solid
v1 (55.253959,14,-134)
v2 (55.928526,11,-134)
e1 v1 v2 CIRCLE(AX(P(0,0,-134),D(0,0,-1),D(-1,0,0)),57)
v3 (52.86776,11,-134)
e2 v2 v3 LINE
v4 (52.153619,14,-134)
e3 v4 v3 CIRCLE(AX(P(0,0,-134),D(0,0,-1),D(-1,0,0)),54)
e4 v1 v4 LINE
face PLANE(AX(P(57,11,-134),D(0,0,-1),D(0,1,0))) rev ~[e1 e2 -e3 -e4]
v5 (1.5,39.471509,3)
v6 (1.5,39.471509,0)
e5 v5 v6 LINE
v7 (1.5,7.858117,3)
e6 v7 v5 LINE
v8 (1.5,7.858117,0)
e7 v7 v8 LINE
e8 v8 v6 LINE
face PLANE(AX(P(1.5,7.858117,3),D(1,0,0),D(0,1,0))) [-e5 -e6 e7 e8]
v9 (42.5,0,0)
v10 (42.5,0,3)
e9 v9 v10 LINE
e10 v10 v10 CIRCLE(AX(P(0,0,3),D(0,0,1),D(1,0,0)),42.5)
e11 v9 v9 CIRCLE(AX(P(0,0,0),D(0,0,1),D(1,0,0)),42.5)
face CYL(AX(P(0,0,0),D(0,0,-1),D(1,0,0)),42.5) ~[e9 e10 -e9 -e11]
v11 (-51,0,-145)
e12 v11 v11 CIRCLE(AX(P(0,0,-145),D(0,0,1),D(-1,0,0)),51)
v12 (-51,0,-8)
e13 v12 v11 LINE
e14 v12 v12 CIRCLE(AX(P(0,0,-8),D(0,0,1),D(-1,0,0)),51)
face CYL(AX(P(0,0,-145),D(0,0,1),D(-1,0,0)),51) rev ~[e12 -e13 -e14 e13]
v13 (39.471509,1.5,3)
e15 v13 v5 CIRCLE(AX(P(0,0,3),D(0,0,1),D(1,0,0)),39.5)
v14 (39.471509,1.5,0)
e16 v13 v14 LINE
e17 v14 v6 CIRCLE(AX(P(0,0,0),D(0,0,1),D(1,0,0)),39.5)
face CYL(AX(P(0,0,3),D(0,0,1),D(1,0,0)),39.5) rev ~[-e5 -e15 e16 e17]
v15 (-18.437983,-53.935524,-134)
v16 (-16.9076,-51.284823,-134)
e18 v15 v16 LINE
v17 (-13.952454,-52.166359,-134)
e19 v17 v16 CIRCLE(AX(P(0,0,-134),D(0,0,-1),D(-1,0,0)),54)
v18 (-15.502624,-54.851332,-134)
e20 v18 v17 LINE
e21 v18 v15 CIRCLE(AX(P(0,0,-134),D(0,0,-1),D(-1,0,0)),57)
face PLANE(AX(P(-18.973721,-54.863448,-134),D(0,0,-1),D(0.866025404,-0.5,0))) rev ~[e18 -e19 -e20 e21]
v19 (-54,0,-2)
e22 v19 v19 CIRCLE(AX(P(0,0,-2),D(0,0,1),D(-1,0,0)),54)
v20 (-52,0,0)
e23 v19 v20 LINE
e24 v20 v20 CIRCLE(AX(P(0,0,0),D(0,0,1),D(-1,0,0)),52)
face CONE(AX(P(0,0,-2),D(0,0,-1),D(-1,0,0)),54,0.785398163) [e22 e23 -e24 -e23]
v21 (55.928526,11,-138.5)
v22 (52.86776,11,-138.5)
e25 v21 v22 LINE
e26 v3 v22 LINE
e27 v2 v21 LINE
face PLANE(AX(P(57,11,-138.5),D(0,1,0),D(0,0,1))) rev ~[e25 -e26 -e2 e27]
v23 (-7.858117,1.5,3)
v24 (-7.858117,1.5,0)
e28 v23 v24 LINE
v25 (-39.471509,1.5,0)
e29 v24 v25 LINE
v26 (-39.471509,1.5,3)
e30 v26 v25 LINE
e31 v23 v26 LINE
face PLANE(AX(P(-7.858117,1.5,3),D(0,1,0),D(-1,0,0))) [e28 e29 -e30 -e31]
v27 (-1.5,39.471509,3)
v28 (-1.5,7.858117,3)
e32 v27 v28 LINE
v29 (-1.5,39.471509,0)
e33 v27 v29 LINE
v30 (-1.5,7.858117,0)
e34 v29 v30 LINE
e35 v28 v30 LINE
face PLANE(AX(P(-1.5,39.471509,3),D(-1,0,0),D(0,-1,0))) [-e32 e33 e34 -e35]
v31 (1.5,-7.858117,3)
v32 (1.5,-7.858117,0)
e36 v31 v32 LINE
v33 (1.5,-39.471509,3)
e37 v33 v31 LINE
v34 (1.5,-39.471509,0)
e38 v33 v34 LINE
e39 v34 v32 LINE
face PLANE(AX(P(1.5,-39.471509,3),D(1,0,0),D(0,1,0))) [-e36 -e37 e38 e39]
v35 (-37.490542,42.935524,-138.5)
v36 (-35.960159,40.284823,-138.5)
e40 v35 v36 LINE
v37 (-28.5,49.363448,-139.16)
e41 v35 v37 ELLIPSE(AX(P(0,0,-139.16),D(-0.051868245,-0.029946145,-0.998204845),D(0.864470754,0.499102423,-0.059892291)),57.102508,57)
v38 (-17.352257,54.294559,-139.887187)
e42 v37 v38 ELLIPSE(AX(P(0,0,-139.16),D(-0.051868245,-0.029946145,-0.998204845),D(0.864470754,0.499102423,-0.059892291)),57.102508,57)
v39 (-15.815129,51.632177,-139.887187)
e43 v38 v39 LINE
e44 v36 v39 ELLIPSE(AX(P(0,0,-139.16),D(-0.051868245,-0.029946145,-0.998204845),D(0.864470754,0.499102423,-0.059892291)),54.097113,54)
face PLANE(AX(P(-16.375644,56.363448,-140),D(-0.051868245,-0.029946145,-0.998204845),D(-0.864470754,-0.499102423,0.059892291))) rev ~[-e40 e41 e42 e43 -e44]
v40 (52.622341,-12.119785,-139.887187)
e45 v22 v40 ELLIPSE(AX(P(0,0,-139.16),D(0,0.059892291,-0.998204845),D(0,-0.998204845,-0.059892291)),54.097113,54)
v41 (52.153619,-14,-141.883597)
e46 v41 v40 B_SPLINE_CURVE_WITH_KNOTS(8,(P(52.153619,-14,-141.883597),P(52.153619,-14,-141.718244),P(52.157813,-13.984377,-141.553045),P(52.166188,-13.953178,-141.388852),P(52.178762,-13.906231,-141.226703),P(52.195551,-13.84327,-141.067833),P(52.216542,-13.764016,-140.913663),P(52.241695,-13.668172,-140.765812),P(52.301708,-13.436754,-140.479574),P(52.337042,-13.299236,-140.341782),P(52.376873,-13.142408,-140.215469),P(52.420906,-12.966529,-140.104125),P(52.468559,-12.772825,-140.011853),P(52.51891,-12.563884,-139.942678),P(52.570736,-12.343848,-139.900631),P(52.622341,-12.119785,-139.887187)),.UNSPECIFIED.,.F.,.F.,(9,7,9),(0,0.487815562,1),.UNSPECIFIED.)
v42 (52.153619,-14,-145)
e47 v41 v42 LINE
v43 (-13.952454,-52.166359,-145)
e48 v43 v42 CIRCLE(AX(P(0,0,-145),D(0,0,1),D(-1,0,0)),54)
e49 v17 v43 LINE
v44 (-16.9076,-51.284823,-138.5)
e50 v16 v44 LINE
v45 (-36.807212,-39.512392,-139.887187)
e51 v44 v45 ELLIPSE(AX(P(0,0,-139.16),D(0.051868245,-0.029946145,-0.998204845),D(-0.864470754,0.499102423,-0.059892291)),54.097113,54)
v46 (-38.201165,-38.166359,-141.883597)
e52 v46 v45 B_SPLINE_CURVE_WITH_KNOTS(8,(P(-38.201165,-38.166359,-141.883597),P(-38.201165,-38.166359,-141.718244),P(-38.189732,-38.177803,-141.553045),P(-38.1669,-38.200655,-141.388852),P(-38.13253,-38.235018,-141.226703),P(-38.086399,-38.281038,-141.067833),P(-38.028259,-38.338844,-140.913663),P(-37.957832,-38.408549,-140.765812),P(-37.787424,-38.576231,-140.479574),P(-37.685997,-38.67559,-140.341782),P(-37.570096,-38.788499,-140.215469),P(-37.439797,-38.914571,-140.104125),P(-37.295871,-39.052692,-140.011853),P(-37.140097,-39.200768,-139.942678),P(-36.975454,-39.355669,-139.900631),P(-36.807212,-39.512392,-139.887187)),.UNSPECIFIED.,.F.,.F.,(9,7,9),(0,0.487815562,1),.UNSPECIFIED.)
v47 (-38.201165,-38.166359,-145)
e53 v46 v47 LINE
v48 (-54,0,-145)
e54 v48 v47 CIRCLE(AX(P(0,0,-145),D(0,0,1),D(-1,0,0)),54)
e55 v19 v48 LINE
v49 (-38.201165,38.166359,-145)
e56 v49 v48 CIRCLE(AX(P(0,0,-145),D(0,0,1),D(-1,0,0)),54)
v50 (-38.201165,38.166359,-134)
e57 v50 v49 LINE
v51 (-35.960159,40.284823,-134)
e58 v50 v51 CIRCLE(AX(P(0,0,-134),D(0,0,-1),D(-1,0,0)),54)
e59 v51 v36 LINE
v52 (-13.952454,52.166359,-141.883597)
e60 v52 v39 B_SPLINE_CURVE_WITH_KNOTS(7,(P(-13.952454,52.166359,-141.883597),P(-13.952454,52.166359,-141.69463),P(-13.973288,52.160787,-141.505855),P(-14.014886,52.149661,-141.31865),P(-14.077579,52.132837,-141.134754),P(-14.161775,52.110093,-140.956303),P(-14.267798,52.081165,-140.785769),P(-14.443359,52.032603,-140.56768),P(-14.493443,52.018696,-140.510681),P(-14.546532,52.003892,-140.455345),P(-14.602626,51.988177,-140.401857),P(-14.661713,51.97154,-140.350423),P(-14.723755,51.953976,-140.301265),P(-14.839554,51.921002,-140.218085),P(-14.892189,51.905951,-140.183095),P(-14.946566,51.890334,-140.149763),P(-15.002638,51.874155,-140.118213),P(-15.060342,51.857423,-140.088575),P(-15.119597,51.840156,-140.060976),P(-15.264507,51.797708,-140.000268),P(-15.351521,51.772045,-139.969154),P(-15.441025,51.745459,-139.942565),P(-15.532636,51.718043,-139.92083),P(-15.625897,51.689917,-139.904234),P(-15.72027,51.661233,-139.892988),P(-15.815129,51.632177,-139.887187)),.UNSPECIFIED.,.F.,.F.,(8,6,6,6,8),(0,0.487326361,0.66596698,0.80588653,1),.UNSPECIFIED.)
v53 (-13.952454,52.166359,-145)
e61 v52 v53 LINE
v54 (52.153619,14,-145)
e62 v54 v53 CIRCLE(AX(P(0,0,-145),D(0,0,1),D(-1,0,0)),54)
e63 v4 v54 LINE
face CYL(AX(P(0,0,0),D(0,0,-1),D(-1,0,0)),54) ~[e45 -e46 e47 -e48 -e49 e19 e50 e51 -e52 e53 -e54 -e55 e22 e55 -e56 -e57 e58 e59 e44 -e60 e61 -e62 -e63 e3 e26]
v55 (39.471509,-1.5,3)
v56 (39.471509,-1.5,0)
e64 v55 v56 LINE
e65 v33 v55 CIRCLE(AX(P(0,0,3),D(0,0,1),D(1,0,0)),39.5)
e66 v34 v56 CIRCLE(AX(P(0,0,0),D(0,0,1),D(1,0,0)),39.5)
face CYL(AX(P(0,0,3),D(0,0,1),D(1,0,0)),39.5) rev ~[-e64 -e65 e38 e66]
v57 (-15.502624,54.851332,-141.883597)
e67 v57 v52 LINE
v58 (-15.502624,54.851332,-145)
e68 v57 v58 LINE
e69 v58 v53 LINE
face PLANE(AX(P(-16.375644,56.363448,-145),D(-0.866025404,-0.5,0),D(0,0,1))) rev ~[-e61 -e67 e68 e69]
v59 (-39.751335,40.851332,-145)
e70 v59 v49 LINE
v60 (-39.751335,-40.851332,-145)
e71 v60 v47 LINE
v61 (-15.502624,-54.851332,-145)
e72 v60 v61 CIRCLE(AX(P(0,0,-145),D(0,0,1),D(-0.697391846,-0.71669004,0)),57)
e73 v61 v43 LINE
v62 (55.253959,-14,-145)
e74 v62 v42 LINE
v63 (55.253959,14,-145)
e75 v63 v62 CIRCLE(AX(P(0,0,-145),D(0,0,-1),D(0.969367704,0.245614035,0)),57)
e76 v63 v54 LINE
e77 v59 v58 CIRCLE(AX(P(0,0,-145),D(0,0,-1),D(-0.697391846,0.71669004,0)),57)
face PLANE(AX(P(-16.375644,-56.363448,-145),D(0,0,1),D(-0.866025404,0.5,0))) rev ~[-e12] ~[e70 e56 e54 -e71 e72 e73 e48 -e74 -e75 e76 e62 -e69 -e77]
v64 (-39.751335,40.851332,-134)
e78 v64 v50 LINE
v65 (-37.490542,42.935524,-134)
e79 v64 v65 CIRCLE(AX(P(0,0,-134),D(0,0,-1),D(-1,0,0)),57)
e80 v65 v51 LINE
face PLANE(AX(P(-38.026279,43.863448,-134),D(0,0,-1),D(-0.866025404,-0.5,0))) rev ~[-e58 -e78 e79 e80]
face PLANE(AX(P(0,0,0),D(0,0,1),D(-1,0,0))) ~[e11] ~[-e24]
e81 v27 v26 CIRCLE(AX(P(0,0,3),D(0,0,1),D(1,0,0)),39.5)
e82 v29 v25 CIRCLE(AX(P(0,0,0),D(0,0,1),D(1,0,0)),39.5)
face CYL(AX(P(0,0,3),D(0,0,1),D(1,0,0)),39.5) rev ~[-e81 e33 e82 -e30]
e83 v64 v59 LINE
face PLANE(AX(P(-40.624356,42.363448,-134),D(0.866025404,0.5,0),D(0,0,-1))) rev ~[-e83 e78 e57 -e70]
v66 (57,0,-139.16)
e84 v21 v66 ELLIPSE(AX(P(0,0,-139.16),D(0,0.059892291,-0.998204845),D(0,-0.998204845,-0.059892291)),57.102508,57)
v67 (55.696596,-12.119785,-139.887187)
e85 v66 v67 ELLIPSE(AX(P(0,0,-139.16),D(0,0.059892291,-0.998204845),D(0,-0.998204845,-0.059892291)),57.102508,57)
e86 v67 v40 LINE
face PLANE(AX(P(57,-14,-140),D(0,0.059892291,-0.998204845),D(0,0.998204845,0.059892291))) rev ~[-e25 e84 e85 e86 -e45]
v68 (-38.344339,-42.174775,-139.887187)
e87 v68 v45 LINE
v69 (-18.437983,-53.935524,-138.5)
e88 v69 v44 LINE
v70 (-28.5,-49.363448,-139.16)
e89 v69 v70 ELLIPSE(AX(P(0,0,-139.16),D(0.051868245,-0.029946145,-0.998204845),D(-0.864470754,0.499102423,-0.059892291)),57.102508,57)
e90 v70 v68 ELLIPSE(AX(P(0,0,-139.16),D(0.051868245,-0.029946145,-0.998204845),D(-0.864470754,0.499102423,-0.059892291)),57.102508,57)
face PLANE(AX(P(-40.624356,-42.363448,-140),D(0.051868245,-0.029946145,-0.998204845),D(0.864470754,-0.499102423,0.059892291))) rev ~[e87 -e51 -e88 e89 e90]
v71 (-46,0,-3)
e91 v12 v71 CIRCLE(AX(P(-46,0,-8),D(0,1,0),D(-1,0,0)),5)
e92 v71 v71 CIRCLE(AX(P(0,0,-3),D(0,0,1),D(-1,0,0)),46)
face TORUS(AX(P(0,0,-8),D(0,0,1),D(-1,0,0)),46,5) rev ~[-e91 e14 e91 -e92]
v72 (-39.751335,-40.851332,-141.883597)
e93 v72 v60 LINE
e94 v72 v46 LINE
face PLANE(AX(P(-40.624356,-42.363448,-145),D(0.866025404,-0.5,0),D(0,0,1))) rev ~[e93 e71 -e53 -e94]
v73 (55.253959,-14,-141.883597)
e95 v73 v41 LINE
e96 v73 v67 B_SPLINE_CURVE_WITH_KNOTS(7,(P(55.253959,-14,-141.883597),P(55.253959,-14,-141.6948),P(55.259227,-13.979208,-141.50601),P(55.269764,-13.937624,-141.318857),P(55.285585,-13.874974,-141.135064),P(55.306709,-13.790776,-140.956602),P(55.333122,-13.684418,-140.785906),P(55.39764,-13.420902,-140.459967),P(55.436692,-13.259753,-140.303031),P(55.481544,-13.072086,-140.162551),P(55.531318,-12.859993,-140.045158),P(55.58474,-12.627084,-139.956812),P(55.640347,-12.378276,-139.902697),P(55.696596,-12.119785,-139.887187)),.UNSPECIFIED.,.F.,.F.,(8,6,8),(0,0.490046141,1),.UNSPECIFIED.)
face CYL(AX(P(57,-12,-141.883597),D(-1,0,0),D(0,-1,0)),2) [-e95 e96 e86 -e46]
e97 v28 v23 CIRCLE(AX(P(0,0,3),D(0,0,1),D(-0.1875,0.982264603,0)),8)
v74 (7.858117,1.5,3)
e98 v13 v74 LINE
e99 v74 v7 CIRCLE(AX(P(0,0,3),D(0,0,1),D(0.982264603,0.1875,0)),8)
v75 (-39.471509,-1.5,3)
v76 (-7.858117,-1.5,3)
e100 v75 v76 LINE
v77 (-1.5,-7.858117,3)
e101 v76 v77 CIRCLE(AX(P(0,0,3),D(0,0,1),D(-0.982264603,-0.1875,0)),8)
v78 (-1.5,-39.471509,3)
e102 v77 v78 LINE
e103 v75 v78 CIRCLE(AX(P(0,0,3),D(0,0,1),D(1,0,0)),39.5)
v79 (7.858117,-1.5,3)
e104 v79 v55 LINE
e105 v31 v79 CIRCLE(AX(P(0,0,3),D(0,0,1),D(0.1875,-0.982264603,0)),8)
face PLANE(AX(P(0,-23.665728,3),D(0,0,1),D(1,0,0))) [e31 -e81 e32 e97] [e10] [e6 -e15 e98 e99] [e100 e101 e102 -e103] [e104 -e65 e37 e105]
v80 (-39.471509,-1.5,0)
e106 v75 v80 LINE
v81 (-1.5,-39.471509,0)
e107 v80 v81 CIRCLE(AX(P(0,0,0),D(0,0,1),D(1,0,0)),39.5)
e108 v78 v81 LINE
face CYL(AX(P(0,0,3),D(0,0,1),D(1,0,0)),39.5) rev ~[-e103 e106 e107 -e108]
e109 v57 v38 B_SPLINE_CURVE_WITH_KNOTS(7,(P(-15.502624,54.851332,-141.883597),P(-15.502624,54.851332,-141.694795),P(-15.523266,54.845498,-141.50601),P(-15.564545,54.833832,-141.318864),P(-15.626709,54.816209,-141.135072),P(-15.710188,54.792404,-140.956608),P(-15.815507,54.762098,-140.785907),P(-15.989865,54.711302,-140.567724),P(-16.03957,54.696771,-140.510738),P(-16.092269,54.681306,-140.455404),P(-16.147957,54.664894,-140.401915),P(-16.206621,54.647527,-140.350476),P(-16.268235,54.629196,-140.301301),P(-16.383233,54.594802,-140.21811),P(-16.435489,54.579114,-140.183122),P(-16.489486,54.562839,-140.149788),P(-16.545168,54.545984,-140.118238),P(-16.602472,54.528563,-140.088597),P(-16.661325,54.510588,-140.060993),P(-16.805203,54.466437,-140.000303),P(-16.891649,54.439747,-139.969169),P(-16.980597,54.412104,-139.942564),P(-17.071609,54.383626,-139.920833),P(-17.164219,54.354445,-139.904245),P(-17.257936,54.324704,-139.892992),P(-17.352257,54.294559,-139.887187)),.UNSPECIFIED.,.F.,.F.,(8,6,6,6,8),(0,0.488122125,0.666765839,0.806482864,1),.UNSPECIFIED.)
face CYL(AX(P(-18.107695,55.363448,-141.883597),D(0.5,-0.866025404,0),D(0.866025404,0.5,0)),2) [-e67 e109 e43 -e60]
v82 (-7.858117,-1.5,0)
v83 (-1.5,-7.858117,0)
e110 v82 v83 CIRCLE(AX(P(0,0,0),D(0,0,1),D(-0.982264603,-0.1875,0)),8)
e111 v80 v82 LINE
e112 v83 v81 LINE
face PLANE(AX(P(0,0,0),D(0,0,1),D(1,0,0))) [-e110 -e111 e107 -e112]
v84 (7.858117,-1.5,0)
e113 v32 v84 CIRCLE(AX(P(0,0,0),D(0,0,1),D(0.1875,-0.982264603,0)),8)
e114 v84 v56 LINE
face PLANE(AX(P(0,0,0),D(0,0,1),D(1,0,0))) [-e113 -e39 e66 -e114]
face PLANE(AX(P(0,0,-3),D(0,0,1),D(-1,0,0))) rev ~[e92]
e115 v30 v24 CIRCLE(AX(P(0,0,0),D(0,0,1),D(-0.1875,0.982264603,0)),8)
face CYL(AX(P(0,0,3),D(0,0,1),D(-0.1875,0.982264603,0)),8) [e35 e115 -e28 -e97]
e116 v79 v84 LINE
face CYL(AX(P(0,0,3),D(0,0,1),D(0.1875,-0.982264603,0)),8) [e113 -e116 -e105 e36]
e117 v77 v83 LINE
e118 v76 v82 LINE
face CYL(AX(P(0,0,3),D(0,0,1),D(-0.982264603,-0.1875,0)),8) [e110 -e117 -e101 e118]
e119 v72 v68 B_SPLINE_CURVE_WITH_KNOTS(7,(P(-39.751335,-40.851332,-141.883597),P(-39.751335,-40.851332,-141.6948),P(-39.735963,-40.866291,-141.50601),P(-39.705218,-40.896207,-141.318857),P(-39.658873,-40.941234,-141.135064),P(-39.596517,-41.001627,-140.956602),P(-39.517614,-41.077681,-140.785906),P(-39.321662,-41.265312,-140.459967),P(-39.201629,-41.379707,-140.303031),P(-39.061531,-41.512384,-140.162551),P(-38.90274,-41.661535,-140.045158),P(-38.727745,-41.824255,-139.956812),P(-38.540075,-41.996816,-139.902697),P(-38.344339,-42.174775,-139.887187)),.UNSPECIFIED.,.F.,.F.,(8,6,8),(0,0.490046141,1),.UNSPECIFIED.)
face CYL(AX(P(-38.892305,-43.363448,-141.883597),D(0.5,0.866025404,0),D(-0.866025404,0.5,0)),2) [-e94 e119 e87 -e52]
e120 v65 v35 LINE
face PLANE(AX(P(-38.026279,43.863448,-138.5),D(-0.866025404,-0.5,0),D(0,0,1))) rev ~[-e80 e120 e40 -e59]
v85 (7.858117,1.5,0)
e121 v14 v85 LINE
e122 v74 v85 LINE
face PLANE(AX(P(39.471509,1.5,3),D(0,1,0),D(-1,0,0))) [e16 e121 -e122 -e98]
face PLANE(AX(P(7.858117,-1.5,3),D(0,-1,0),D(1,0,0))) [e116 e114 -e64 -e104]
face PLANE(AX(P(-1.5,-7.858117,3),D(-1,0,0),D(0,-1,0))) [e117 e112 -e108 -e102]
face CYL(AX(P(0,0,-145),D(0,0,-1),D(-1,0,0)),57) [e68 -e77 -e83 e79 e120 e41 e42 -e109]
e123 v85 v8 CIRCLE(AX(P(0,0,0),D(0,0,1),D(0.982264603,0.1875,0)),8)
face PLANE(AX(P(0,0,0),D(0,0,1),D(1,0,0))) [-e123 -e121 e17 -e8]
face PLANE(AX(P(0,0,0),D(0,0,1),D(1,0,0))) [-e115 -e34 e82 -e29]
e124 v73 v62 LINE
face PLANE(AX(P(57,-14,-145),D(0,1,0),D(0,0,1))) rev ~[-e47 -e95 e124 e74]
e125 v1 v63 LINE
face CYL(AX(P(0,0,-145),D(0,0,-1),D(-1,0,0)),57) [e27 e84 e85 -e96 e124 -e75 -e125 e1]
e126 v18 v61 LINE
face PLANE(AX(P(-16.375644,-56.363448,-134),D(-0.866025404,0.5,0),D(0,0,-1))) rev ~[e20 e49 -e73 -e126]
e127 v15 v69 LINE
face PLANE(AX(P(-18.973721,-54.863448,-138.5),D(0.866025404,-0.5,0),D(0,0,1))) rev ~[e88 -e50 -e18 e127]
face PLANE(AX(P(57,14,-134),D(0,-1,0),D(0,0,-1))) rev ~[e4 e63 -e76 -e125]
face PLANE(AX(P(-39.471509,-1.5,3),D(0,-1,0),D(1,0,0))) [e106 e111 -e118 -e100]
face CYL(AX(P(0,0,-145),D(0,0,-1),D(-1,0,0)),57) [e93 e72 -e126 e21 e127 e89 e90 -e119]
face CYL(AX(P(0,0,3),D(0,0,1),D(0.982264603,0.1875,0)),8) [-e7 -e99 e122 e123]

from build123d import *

# Parameters (mm, degrees)
EXTRUDE_1_DEPTH                  = 10
FILLET_1_R                       = 2
PATTERN_CIRCULAR_2_COUNT         = 3
FILLET_1_OF_PATTERN_CIRCULAR_2_R = 2
CUT_EXTRUDE_START                = -15
SKETCH_3_R                       = 51
CUT_EXTRUDE_1_DEPTH              = 15
SKETCH_4_R                       = 62.618720145
SKETCH_4_R_2                     = 57
CUT_EXTRUDE_2_DEPTH              = 15
CHAMFER_1_SIZE                   = 2
FILLET_2_R                       = 5
SKETCH_5_R                       = 42.5
EXTRUDE_2_DEPTH                  = 3
SKETCH_7_R                       = 39.5
CUT_EXTRUDE_3_DEPTH              = 3
EXTRUDE_START                    = 3
SKETCH_8_W                       = 3
SKETCH_8_H                       = 3
EXTRUDE_4_DEPTH                  = 3


with BuildPart() as part:
    # Эскиз1 → Повернуть1 (revolve)
    with BuildSketch(Plane(origin=(0, 0, 0), x_dir=(1, 0, 0), z_dir=(0, 1, 0))):
        Polygon((0, 0), (-54, 0), (-54, 145), (-51, 145), (-51, 3), (0, 3), align=None)
    revolve(axis=Axis((0, 0, -3), (0, 0, 1)))

    # Эскиз2 → Бобышка-Вытянуть1 (add)
    with BuildSketch(Plane(origin=(57, 0, 0), x_dir=(0, 0, -1), z_dir=(1, 0, 0))):
        Polygon((145, 14), (145, -14), (140, -14), (138.5, 11), (134, 11), (134, 14), align=None)
    extrude_1 = extrude(amount=-EXTRUDE_1_DEPTH)

    # Скругление1
    fillet_1_edges = [part.edges().sort_by_distance(p)[0] for p in [
        (54.576809621, -14, -140),
    ]]
    fillet(fillet_1_edges, radius=FILLET_1_R)

    # Круговой массив2: Бобышка-Вытянуть1 ×3 about axis
    pattern_circular_2_axis = Axis((0, 0, 0), (0, 0, 1))
    for i in range(1, PATTERN_CIRCULAR_2_COUNT):
        add(extrude_1.rotate(pattern_circular_2_axis, i * 360 / PATTERN_CIRCULAR_2_COUNT))

    # Скругление1 of Круговой массив2
    fillet_1_of_pattern_circular_2_edges = [part.edges().sort_by_distance(p)[0] for p in [
        (-15.164049157, 54.264903589, -140),
        (-39.412760463, -40.264903589, -140),
    ]]
    fillet(fillet_1_of_pattern_circular_2_edges, radius=FILLET_1_OF_PATTERN_CIRCULAR_2_R)

    # Эскиз3 → Вырез-Вытянуть1 (cut)
    with BuildSketch(Plane(origin=(0, 0, -145), x_dir=(-1, 0, 0), z_dir=(0, 0, -1)).offset(CUT_EXTRUDE_START)):
        Circle(SKETCH_3_R)
    extrude(amount=CUT_EXTRUDE_1_DEPTH, mode=Mode.SUBTRACT)

    # Эскиз4 → Вырез-Вытянуть2 (cut)
    with BuildSketch(Plane(origin=(0, 0, -145), x_dir=(-1, 0, 0), z_dir=(0, 0, -1))):
        Circle(SKETCH_4_R)
        Circle(SKETCH_4_R_2, mode=Mode.SUBTRACT)
    extrude(amount=-CUT_EXTRUDE_2_DEPTH, mode=Mode.SUBTRACT)

    # Фаска1
    chamfer_1_edges = [part.edges().sort_by_distance(p)[0] for p in [
        (54, 0, 0),
    ]]
    chamfer(chamfer_1_edges, length=CHAMFER_1_SIZE)

    # Скругление2
    fillet_2_edges = [part.edges().sort_by_distance(p)[0] for p in [
        (51, 0, -3),
    ]]
    fillet(fillet_2_edges, radius=FILLET_2_R)

    # Эскиз5 → Бобышка-Вытянуть2 (add)
    with BuildSketch(Plane.XY):
        Circle(SKETCH_5_R)
    extrude(amount=EXTRUDE_2_DEPTH)

    # Эскиз7 → Вырез-Вытянуть3 (cut)
    with BuildSketch(Plane.XY.offset(3)):
        Circle(SKETCH_7_R)
    extrude(amount=-CUT_EXTRUDE_3_DEPTH, mode=Mode.SUBTRACT)

    # Эскиз8 → Бобышка-Вытянуть4 (add)
    with BuildSketch(Plane.XY.offset(EXTRUDE_START)):
        with BuildLine():
            Line((-1.5, -7.858116823), (-1.5, -39.471508712))
            ThreePointArc((-1.5, -39.471508712), (0, -39.5), (1.5, -39.471508712))
            Line((1.5, -39.471508712), (1.5, -7.858116823))
            ThreePointArc((1.5, -7.858116823), (0, -8), (-1.5, -7.858116823))
        make_face()
        with BuildLine():
            ThreePointArc((1.5, 39.471508712), (0, 39.5), (-1.5, 39.471508712))
            Line((-1.5, 39.471508712), (-1.5, 7.858116823))
            ThreePointArc((-1.5, 7.858116823), (0, 8), (1.5, 7.858116823))
            Line((1.5, 7.858116823), (1.5, 39.471508712))
        make_face()
        with BuildLine():
            Line((-1.5, 7.858116823), (-1.5, 1.5))
            Line((-1.5, 1.5), (1.5, 1.5))
            Line((1.5, 1.5), (1.5, 7.858116823))
            ThreePointArc((1.5, 7.858116823), (0, 8), (-1.5, 7.858116823))
        make_face()
        with BuildLine():
            Line((1.5, 7.858116823), (1.5, 1.5))
            Line((1.5, 1.5), (7.858116823, 1.5))
            ThreePointArc((7.858116823, 1.5), (5.656854249, 5.656854249), (1.5, 7.858116823))
        make_face()
        with BuildLine():
            Line((1.5, 1.5), (1.5, -1.5))
            Line((1.5, -1.5), (7.858116823, -1.5))
            ThreePointArc((7.858116823, -1.5), (7.964450219, -0.753347668), (8, 0))
            ThreePointArc((8, 0), (7.964450219, 0.753347668), (7.858116823, 1.5))
            Line((7.858116823, 1.5), (1.5, 1.5))
        make_face()
        with BuildLine():
            ThreePointArc((-39.471508712, 1.5), (-39.5, 0), (-39.471508712, -1.5))
            Line((-39.471508712, -1.5), (-7.858116823, -1.5))
            ThreePointArc((-7.858116823, -1.5), (-8, 0), (-7.858116823, 1.5))
            Line((-7.858116823, 1.5), (-39.471508712, 1.5))
        make_face()
        with BuildLine():
            Line((7.858116823, -1.5), (39.471508712, -1.5))
            ThreePointArc((39.471508712, -1.5), (39.492876536, -0.75013528), (39.5, 0))
            ThreePointArc((39.5, 0), (39.492876536, 0.75013528), (39.471508712, 1.5))
            Line((39.471508712, 1.5), (7.858116823, 1.5))
            ThreePointArc((7.858116823, 1.5), (7.964450219, 0.753347668), (8, 0))
            ThreePointArc((8, 0), (7.964450219, -0.753347668), (7.858116823, -1.5))
        make_face()
        with BuildLine():
            Line((1.5, -1.5), (1.5, -7.858116823))
            ThreePointArc((1.5, -7.858116823), (5.656854249, -5.656854249), (7.858116823, -1.5))
            Line((7.858116823, -1.5), (1.5, -1.5))
        make_face()
        with BuildLine():
            Line((-1.5, -1.5), (-1.5, -7.858116823))
            ThreePointArc((-1.5, -7.858116823), (0, -8), (1.5, -7.858116823))
            Line((1.5, -7.858116823), (1.5, -1.5))
            Line((1.5, -1.5), (-1.5, -1.5))
        make_face()
        Rectangle(SKETCH_8_W, SKETCH_8_H)
        with BuildLine():
            Line((-7.858116823, 1.5), (-1.5, 1.5))
            Line((-1.5, 1.5), (-1.5, 7.858116823))
            ThreePointArc((-1.5, 7.858116823), (-5.656854249, 5.656854249), (-7.858116823, 1.5))
        make_face()
        with BuildLine():
            Line((-7.858116823, -1.5), (-1.5, -1.5))
            Line((-1.5, -1.5), (-1.5, 1.5))
            Line((-1.5, 1.5), (-7.858116823, 1.5))
            ThreePointArc((-7.858116823, 1.5), (-8, 0), (-7.858116823, -1.5))
        make_face()
        with BuildLine():
            ThreePointArc((-7.858116823, -1.5), (-5.656854249, -5.656854249), (-1.5, -7.858116823))
            Line((-1.5, -7.858116823), (-1.5, -1.5))
            Line((-1.5, -1.5), (-7.858116823, -1.5))
        make_face()
    extrude(amount=-EXTRUDE_4_DEPTH)


solid = part.part
